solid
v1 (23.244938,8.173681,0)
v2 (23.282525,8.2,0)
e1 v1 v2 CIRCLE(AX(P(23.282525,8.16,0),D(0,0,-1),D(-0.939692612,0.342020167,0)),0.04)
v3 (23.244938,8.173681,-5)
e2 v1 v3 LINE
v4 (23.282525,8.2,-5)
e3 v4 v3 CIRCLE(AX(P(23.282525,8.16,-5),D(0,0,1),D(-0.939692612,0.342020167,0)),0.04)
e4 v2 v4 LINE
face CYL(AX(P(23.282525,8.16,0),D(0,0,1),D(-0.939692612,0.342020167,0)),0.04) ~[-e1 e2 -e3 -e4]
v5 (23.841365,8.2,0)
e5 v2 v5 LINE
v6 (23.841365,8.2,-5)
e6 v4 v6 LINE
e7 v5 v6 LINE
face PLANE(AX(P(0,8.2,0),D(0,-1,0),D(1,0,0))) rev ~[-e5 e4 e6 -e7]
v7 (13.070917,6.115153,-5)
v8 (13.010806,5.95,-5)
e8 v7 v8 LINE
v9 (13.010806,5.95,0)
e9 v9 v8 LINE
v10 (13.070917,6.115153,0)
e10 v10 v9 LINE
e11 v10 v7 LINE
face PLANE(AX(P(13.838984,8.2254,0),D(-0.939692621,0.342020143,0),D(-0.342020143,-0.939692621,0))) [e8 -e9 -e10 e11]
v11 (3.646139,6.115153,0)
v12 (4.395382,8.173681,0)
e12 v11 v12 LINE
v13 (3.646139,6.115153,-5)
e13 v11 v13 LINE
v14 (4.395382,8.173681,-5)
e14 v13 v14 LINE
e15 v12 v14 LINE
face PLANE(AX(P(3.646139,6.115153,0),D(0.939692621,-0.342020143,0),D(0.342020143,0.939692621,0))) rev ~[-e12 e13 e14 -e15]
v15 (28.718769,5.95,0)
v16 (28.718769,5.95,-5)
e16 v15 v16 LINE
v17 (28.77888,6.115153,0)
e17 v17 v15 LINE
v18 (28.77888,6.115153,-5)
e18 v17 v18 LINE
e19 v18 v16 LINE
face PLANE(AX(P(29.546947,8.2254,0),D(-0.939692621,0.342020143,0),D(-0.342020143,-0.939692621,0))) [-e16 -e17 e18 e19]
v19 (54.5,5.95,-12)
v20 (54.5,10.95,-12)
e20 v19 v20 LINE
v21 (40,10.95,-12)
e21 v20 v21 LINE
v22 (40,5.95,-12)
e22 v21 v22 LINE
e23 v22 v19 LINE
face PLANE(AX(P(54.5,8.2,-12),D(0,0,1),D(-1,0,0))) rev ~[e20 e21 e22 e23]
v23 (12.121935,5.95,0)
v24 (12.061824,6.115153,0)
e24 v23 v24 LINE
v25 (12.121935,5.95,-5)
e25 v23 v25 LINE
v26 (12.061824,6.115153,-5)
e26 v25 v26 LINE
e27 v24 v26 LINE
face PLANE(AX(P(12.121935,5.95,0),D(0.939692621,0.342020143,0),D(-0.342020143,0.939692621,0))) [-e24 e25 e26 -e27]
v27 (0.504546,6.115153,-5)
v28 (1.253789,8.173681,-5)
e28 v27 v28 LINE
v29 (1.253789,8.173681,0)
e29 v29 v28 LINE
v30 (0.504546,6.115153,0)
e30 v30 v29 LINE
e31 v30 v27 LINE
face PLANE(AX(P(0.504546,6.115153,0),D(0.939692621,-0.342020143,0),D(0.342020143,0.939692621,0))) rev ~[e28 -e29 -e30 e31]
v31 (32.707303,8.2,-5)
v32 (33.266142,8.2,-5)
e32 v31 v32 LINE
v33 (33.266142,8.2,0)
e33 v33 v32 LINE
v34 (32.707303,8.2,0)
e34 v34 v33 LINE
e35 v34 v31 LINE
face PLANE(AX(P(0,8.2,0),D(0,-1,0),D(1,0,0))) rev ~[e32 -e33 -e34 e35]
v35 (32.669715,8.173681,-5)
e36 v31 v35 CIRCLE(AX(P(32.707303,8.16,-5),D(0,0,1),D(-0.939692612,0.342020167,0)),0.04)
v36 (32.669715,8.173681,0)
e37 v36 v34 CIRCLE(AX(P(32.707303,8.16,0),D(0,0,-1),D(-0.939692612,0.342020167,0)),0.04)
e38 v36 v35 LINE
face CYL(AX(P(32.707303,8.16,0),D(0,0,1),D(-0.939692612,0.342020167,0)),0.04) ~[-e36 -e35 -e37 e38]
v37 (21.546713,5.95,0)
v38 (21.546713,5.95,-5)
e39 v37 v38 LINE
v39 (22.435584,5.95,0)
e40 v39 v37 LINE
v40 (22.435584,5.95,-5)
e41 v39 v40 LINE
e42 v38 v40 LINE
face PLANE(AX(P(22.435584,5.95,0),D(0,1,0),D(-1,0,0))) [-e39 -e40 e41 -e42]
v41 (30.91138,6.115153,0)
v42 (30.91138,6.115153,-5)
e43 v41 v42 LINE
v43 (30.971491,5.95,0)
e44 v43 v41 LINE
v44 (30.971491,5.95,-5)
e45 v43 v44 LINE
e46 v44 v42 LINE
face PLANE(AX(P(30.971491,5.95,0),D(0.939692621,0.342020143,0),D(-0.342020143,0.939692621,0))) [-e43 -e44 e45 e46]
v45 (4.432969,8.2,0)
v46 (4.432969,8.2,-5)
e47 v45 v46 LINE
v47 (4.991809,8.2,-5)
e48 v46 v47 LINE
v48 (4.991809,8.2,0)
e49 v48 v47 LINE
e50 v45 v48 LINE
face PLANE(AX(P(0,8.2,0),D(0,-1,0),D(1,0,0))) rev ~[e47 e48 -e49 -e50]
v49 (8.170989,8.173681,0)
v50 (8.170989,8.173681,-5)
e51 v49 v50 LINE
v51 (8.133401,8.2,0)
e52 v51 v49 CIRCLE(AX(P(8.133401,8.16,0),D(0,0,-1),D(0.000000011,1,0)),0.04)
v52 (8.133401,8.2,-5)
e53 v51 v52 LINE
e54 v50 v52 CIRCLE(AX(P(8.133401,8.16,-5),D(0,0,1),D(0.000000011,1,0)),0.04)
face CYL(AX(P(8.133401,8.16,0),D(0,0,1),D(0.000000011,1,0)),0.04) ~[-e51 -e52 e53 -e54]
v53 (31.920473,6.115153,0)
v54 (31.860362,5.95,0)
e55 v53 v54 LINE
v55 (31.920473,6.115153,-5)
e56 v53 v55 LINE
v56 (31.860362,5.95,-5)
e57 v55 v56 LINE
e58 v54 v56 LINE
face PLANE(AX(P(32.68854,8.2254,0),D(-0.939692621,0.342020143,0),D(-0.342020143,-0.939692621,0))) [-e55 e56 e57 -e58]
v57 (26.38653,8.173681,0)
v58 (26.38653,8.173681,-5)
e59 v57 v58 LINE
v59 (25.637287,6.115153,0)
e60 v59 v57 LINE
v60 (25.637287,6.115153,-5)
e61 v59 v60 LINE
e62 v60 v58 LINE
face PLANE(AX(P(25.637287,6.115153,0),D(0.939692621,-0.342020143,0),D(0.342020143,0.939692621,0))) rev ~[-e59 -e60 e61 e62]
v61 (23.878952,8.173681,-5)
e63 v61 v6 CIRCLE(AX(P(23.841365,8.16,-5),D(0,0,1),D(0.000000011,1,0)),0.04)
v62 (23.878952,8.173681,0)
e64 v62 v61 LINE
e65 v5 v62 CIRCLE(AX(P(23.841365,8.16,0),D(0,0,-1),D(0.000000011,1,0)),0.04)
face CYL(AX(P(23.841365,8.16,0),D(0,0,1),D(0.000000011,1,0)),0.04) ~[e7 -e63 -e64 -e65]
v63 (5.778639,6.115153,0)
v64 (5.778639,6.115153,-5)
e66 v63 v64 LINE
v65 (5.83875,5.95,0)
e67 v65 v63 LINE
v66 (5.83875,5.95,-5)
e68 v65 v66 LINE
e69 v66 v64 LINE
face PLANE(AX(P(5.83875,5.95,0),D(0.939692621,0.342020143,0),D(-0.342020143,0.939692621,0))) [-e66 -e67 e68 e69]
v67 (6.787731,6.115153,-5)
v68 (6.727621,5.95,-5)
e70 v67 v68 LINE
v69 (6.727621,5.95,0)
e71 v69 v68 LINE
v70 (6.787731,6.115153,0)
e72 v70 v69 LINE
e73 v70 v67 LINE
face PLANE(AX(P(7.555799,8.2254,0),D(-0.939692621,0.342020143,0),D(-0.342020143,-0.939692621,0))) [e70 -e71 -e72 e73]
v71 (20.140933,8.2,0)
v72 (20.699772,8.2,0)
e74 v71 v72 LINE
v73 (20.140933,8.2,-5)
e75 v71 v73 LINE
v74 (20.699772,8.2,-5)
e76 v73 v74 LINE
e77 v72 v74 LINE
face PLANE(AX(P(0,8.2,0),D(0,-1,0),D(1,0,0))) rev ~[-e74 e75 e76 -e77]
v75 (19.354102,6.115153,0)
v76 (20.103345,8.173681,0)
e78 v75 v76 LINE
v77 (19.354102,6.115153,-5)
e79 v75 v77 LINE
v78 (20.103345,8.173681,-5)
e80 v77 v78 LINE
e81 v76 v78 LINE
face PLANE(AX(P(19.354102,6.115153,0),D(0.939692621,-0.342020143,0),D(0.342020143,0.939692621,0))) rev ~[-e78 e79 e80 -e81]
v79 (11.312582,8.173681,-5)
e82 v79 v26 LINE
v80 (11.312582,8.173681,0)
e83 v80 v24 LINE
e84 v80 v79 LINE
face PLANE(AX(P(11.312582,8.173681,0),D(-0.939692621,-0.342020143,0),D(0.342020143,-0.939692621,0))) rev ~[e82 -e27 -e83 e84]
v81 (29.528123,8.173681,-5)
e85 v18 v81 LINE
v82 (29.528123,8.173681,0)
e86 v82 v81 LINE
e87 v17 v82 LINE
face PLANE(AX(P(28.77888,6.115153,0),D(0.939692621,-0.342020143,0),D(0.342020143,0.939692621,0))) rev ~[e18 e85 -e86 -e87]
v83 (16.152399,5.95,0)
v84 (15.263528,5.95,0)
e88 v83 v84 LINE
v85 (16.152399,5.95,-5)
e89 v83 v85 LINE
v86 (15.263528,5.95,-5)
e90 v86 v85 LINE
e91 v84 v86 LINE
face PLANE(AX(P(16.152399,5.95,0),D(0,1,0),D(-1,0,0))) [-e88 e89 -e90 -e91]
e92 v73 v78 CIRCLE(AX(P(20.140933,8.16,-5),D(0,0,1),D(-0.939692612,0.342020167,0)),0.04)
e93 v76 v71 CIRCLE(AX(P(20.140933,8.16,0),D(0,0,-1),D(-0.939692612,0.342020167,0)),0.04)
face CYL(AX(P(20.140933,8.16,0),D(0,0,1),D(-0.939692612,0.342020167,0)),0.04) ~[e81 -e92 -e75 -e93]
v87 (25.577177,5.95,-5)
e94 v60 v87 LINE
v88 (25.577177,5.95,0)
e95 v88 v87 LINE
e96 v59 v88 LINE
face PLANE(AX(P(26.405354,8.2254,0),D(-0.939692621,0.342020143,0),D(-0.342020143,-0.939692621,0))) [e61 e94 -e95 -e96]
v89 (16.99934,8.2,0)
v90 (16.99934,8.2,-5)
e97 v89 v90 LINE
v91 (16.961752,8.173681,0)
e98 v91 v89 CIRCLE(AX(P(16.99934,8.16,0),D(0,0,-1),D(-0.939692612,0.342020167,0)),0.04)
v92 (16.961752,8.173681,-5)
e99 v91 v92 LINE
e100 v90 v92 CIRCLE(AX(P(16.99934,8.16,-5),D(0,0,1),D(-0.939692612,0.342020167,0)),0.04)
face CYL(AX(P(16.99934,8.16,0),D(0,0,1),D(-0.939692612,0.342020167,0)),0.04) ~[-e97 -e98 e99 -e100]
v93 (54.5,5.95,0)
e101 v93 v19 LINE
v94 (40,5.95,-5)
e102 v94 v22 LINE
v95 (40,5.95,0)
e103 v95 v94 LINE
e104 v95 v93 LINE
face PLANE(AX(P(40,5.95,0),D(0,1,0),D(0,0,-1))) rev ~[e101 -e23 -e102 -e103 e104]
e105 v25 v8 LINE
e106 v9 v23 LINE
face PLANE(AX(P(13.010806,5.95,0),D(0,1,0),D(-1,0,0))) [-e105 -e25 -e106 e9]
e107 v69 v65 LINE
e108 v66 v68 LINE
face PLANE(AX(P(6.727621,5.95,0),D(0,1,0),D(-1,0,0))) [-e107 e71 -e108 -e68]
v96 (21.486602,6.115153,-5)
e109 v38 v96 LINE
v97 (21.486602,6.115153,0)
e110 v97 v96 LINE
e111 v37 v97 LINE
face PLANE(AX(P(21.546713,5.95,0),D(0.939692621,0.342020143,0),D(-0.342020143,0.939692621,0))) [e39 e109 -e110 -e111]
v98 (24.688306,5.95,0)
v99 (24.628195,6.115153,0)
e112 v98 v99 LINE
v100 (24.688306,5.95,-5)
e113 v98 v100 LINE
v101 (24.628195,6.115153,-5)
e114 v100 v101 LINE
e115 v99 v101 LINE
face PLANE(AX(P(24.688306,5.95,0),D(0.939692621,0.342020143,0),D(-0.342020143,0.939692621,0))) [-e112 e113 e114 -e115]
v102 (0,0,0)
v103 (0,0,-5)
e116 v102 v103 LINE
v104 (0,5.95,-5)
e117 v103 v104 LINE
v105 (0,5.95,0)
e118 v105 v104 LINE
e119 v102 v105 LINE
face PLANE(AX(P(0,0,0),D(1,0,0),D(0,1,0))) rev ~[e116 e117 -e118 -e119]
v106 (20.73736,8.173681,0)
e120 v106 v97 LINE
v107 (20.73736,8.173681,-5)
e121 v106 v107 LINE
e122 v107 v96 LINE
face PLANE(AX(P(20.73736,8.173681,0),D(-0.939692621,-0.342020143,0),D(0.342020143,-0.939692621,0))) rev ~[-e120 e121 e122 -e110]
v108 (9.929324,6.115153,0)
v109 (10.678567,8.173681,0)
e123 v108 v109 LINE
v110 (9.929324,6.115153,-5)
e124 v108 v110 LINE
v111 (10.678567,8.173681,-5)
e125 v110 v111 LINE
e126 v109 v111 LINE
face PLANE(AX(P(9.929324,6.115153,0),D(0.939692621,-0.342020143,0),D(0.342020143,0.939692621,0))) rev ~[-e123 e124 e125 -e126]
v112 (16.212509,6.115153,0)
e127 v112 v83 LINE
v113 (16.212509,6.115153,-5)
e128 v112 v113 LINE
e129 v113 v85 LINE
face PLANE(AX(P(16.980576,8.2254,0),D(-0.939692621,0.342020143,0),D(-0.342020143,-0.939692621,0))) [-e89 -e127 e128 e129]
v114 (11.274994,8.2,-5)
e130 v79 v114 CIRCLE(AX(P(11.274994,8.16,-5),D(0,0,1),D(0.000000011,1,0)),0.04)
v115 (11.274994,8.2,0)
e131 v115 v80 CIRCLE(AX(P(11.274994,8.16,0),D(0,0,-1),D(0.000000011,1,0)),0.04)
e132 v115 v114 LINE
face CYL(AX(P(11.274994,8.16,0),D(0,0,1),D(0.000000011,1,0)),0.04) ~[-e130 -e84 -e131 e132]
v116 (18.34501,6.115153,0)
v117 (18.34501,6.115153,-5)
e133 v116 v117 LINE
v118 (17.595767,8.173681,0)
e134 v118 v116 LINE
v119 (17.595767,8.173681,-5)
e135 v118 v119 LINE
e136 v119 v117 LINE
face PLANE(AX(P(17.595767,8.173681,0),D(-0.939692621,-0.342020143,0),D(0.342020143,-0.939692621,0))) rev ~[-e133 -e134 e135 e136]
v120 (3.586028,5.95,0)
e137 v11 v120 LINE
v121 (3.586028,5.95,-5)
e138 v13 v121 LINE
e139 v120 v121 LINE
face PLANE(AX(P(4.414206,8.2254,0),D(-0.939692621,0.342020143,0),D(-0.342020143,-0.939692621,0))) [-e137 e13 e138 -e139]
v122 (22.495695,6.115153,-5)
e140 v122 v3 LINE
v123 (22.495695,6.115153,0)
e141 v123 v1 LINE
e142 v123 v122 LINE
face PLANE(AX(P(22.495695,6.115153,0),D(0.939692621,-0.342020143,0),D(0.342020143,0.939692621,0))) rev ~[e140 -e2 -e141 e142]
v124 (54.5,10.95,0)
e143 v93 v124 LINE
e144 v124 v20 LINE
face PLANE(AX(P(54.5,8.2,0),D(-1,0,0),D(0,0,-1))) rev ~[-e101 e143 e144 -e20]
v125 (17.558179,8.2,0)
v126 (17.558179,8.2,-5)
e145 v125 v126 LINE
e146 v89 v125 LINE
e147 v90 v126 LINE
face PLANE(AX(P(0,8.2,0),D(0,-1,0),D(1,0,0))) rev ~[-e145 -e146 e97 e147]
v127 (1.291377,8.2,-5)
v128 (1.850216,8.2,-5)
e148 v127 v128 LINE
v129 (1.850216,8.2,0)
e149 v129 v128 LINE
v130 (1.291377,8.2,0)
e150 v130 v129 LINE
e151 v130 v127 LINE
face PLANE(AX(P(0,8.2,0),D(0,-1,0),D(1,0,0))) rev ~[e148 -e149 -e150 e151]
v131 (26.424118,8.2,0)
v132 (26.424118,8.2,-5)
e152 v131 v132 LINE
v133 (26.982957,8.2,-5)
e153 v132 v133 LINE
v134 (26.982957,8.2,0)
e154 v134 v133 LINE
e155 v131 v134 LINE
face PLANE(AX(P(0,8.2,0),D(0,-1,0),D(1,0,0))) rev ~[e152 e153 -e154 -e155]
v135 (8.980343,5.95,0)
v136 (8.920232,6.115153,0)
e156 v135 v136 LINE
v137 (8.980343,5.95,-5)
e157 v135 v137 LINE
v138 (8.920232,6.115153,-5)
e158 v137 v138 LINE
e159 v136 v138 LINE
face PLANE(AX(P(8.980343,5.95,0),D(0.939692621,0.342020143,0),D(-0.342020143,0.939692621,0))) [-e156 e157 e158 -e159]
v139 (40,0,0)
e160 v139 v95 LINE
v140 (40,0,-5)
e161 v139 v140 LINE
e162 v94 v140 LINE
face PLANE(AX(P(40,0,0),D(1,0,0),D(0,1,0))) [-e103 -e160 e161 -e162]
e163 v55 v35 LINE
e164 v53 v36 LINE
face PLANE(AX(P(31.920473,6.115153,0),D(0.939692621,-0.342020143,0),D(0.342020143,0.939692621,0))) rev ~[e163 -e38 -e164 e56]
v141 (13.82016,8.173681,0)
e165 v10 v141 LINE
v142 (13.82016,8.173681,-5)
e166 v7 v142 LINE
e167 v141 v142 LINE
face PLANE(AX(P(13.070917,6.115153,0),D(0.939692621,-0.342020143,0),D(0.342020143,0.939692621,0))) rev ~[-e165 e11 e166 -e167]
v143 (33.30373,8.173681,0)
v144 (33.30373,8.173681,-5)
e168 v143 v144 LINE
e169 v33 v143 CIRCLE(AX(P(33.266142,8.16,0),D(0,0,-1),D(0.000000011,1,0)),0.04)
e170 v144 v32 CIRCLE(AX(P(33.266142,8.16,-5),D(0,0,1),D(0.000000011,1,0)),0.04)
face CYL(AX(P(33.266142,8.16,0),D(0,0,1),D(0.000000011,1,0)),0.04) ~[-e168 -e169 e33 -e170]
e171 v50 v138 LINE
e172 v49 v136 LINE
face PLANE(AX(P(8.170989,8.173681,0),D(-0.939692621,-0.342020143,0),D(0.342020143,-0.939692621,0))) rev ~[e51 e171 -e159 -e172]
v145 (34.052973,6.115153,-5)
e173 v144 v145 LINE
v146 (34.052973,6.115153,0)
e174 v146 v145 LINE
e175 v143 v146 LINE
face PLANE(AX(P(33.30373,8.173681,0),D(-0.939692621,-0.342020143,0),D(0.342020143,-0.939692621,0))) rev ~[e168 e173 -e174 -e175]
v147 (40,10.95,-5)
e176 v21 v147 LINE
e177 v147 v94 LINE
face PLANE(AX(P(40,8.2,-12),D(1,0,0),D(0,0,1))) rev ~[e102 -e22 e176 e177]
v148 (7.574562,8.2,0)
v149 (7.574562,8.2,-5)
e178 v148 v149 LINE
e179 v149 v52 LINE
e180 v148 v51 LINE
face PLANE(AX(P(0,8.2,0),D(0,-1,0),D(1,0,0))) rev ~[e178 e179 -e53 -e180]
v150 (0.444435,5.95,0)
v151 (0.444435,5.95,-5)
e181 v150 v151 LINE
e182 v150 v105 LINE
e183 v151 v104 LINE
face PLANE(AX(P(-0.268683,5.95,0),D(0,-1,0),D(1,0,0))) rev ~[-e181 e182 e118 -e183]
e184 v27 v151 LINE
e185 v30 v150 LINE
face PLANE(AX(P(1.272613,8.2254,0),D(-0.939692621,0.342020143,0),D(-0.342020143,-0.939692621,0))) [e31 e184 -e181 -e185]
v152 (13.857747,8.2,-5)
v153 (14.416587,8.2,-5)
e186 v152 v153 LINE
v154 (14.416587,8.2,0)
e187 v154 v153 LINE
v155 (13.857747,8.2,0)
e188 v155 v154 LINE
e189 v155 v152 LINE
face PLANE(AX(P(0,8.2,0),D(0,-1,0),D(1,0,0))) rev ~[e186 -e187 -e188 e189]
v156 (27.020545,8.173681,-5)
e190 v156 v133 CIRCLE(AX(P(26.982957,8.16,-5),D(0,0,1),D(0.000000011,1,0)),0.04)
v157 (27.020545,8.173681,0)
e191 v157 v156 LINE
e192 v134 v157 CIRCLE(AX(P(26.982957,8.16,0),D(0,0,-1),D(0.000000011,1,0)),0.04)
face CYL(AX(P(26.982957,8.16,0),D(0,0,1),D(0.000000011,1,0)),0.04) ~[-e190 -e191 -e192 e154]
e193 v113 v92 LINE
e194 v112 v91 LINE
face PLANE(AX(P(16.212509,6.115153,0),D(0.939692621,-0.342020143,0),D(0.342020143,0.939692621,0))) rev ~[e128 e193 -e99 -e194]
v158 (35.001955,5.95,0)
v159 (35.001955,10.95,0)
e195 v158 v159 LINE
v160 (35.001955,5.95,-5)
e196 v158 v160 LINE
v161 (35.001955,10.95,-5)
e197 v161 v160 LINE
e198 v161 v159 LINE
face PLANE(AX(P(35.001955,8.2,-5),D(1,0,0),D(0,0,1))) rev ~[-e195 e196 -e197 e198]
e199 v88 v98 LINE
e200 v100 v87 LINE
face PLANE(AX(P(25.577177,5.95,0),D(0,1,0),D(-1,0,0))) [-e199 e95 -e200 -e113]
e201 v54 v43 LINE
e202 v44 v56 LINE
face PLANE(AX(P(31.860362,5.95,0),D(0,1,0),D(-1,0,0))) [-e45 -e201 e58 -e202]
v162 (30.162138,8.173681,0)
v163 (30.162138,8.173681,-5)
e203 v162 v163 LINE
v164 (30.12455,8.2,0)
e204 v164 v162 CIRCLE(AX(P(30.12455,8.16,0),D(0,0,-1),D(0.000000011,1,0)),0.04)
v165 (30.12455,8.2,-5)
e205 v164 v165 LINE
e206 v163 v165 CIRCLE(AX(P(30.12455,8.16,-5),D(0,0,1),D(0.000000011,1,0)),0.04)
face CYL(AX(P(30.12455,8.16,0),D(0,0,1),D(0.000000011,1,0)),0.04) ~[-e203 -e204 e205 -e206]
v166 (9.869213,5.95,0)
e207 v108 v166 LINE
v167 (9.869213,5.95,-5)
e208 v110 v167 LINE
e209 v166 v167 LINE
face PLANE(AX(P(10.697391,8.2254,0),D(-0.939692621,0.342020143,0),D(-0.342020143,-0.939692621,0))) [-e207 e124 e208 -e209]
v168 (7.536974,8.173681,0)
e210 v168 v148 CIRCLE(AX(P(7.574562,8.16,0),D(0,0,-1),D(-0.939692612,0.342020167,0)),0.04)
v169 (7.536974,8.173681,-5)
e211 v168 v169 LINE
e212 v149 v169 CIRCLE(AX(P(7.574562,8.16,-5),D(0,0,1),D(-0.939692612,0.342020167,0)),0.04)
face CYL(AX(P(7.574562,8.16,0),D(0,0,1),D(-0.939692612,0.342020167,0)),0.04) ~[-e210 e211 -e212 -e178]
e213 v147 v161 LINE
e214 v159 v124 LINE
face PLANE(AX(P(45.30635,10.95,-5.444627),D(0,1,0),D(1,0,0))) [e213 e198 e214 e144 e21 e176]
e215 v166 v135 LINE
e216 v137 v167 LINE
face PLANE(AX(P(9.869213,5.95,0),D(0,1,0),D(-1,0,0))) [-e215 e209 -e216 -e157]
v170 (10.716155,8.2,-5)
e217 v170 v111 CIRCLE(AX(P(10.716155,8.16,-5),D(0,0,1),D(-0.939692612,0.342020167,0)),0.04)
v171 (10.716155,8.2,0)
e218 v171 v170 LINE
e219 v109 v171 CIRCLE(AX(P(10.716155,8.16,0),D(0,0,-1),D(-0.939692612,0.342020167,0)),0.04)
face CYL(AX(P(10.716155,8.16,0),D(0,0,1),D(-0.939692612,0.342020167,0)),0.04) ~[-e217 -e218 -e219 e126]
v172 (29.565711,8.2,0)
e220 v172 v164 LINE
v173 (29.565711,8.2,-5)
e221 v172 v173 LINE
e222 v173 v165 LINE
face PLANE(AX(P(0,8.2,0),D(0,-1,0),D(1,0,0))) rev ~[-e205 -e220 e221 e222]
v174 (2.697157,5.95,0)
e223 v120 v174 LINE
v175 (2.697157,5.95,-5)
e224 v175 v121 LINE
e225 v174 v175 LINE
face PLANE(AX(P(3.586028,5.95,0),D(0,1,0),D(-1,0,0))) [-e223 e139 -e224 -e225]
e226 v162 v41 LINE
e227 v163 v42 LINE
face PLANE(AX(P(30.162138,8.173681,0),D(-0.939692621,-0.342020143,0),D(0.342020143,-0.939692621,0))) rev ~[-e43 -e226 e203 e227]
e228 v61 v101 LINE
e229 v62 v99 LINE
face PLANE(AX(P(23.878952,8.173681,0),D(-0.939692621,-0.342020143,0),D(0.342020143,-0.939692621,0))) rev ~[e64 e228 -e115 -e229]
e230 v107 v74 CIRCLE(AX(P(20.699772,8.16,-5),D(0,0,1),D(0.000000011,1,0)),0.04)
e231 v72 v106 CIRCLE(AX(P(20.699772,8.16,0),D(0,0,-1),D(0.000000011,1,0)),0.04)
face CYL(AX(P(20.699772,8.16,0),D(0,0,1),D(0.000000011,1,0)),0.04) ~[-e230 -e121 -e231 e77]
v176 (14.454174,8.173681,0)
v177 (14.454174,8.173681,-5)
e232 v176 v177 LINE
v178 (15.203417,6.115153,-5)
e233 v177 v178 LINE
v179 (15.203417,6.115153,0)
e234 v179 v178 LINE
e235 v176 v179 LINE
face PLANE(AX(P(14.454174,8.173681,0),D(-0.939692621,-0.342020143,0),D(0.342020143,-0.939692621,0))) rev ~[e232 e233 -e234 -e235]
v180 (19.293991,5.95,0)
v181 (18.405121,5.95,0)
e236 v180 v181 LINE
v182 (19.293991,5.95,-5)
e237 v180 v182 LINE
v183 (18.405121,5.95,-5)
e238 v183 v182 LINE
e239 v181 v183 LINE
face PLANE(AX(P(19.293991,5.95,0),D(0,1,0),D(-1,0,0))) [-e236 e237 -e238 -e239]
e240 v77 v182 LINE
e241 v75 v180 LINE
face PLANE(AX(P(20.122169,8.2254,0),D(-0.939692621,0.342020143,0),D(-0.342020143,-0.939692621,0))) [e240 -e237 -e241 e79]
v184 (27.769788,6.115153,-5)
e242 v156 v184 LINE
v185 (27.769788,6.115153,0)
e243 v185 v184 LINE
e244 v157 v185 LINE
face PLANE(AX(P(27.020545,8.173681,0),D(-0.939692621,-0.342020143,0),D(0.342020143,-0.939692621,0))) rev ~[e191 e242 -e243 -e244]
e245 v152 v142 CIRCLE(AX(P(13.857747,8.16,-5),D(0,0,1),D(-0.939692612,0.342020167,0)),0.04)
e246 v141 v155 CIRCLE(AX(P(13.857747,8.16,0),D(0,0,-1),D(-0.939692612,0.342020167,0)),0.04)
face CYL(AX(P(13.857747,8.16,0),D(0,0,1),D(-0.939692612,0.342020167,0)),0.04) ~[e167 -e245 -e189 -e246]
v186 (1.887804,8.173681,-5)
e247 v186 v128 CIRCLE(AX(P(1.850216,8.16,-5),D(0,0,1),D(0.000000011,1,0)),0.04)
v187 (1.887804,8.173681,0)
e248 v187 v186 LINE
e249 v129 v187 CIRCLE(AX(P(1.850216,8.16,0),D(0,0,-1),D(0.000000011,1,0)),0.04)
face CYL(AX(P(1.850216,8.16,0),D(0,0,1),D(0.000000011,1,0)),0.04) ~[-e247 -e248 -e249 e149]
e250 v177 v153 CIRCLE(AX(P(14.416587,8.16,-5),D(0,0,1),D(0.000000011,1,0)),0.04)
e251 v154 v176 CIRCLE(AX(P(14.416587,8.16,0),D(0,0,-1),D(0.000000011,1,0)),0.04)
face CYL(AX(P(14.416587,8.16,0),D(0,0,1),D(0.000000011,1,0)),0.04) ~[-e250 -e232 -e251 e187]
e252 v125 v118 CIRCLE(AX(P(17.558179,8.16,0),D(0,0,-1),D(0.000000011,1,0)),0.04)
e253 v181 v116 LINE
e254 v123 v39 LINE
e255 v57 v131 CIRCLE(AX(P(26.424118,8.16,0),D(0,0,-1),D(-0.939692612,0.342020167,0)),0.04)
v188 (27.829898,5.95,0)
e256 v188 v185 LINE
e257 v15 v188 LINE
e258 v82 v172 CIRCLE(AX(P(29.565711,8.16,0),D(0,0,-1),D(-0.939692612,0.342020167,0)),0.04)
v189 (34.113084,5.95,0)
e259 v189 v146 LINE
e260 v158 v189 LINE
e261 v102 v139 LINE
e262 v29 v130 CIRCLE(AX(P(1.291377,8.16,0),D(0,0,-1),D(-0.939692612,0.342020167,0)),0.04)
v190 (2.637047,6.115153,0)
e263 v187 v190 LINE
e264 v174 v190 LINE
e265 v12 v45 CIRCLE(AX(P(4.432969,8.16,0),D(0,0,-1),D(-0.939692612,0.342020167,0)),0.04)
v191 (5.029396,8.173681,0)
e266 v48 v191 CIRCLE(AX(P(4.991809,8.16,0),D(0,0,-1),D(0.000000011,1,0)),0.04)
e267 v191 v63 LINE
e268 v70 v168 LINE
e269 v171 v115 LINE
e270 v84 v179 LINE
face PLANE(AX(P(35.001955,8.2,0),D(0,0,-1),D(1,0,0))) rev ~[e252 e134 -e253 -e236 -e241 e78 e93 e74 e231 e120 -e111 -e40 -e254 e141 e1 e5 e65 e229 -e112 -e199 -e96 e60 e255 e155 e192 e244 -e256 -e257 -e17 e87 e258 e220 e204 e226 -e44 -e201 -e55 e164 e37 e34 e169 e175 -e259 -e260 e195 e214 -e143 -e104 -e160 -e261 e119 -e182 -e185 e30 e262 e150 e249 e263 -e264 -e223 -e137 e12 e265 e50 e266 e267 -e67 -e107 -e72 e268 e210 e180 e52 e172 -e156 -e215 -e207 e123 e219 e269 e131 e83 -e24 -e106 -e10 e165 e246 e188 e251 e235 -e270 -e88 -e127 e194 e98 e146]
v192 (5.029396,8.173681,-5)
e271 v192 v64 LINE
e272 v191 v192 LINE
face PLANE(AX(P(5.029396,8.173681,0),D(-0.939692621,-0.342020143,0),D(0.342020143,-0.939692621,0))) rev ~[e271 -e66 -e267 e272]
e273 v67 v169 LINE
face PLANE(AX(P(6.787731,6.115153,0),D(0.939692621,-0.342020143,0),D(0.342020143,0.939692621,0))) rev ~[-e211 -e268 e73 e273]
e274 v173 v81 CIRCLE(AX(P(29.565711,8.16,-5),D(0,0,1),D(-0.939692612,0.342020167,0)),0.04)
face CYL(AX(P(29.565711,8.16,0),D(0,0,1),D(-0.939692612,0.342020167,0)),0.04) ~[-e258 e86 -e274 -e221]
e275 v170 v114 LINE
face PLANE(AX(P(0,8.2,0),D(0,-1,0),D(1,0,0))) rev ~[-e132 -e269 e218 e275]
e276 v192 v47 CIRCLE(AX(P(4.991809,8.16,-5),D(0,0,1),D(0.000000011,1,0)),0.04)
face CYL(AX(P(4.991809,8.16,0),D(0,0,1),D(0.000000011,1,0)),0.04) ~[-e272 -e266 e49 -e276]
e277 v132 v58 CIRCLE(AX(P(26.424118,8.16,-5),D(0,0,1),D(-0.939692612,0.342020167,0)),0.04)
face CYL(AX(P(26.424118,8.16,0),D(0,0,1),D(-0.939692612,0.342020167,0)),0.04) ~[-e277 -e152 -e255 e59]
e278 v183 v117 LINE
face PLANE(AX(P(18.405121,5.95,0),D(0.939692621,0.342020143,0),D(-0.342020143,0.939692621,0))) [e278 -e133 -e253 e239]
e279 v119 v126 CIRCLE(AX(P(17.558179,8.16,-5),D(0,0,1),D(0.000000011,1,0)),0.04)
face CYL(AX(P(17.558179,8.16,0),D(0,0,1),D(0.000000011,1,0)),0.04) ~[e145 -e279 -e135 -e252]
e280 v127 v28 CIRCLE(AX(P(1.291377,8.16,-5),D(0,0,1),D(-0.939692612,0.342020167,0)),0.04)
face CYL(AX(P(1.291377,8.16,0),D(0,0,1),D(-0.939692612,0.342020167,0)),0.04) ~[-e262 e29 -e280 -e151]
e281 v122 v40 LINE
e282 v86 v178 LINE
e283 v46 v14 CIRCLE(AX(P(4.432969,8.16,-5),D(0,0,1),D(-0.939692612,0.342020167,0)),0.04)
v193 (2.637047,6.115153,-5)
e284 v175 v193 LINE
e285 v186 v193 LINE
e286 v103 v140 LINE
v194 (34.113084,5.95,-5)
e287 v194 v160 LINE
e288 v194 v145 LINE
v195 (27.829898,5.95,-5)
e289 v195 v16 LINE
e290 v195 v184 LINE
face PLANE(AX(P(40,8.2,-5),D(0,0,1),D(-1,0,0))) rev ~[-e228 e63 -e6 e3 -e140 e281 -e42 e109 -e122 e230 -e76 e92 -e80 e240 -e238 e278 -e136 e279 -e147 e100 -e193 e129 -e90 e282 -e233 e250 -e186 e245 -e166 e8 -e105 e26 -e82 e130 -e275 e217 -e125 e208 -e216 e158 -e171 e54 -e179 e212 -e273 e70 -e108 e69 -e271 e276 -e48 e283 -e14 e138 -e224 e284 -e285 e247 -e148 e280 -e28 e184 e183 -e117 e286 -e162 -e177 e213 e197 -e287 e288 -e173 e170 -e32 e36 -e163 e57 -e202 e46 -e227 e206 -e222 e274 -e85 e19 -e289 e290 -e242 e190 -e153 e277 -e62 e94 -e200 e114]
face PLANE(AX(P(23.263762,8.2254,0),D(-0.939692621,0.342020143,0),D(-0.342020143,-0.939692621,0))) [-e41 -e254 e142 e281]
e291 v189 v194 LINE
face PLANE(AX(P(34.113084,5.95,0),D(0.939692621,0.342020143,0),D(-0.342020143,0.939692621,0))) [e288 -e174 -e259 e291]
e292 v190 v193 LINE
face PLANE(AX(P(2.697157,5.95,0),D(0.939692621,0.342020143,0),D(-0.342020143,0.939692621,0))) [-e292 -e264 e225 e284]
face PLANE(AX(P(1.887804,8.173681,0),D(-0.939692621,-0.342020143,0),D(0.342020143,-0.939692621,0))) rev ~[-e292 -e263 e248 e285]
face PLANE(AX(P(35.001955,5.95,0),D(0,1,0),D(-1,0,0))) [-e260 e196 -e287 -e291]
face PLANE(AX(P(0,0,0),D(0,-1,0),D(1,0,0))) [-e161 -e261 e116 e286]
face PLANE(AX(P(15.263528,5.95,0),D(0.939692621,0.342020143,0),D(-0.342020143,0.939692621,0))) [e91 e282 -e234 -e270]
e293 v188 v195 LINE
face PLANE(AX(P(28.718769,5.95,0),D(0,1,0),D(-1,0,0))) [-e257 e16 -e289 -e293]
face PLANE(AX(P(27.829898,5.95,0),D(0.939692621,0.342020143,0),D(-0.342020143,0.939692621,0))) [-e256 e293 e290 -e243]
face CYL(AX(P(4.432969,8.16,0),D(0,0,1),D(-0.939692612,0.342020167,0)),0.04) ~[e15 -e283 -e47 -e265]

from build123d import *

# Parameters (mm, degrees)
BLANKSKE_W          = 40
BLANKSKE_H          = 8.2
BLANK_DEPTH         = 5
TOOTHCUTILL_DEPTH   = 42.136844799
TOOTHCUTSIM_DEPTH   = 42.136844799
TEETHCUTS_COUNT     = 13
TEETHCUTS_PITCH     = 3.14159265
SKETCH1_W           = 4.99804548
SKETCH1_H           = 2.25
BOSS_EXTRUDE1_DEPTH = 5
SKETCH4_W           = 12
SKETCH4_H           = 2.25
BOSS_EXTRUDE4_DEPTH = 14.5
BOSS_EXTRUDE5_DEPTH = 2.75


with BuildPart() as part:
    # BlankSke → Blank (new body)
    with BuildSketch(Plane.XY):
        with Locations((20, 4.1)):
            Rectangle(BLANKSKE_W, BLANKSKE_H)
    extrude(amount=-BLANK_DEPTH)

    # TooCutSkeIll → ToothCutIll (cut, through all)
    with BuildSketch(Plane.XY):
        with BuildLine():
            Line((-1.253788993, 8.173680806), (-0.504546125, 6.115152944))
            ThreePointArc((-0.504546125, 6.115152944), (-0.412650963, 5.995392837), (-0.268683278, 5.95))
            Line((-0.268683278, 5.95), (0.268683278, 5.95))
            ThreePointArc((0.268683278, 5.95), (0.412650963, 5.995392837), (0.504546125, 6.115152944))
            Line((0.504546125, 6.115152944), (1.253788993, 8.173680806))
            ThreePointArc((1.253788993, 8.173680806), (1.268433641, 8.192766082), (1.291376698, 8.2))
            Line((1.291376698, 8.2), (1.291376698, 8.2254))
            Line((1.291376698, 8.2254), (-1.291376698, 8.2254))
            Line((-1.291376698, 8.2254), (-1.291376698, 8.2))
            ThreePointArc((-1.291376698, 8.2), (-1.268433641, 8.192766082), (-1.253788993, 8.173680806))
        make_face()
    toothcutill = extrude(amount=-TOOTHCUTILL_DEPTH, mode=Mode.SUBTRACT)

    # TooCutSkeSim → ToothCutSim (cut, through all)
    with BuildSketch(Plane.XY):
        Polygon((0.44443537, 5.95), (-0.44443537, 5.95), (-1.272613241, 8.2254), (1.272613241, 8.2254), align=None)
    toothcutsim = extrude(amount=-TOOTHCUTSIM_DEPTH, mode=Mode.SUBTRACT)

    # TeethCuts: ToothCutIll, ToothCutSim ×13
    with Locations(*[(i * TEETHCUTS_PITCH, 0, 0) for i in range(1, TEETHCUTS_COUNT)]):
        add(toothcutill, mode=Mode.SUBTRACT)
        add(toothcutsim, mode=Mode.SUBTRACT)

    # Sketch1 → Boss-Extrude1 (add)
    with BuildSketch(Plane.XY):
        with Locations((37.50097726, 7.075)):
            Rectangle(SKETCH1_W, SKETCH1_H)
    extrude(amount=-BOSS_EXTRUDE1_DEPTH)

    # Sketch4 → Boss-Extrude4 (add)
    with BuildSketch(Plane(origin=(40, 0, 0), x_dir=(0, 0, -1), z_dir=(1, 0, 0))):
        with Locations((6, 7.075)):
            Rectangle(SKETCH4_W, SKETCH4_H)
    extrude(amount=BOSS_EXTRUDE4_DEPTH)

    # Sketch6 → Boss-Extrude5 (add)
    with BuildSketch(Plane(origin=(0, 8.2, 0), x_dir=(1, 0, 0), z_dir=(0, 1, 0))):
        Polygon((35.00195452, 5), (35.00195452, 0), (54.5, 0), (54.5, 12), (40, 12), (40, 5), align=None)
    extrude(amount=BOSS_EXTRUDE5_DEPTH)


solid = part.part
